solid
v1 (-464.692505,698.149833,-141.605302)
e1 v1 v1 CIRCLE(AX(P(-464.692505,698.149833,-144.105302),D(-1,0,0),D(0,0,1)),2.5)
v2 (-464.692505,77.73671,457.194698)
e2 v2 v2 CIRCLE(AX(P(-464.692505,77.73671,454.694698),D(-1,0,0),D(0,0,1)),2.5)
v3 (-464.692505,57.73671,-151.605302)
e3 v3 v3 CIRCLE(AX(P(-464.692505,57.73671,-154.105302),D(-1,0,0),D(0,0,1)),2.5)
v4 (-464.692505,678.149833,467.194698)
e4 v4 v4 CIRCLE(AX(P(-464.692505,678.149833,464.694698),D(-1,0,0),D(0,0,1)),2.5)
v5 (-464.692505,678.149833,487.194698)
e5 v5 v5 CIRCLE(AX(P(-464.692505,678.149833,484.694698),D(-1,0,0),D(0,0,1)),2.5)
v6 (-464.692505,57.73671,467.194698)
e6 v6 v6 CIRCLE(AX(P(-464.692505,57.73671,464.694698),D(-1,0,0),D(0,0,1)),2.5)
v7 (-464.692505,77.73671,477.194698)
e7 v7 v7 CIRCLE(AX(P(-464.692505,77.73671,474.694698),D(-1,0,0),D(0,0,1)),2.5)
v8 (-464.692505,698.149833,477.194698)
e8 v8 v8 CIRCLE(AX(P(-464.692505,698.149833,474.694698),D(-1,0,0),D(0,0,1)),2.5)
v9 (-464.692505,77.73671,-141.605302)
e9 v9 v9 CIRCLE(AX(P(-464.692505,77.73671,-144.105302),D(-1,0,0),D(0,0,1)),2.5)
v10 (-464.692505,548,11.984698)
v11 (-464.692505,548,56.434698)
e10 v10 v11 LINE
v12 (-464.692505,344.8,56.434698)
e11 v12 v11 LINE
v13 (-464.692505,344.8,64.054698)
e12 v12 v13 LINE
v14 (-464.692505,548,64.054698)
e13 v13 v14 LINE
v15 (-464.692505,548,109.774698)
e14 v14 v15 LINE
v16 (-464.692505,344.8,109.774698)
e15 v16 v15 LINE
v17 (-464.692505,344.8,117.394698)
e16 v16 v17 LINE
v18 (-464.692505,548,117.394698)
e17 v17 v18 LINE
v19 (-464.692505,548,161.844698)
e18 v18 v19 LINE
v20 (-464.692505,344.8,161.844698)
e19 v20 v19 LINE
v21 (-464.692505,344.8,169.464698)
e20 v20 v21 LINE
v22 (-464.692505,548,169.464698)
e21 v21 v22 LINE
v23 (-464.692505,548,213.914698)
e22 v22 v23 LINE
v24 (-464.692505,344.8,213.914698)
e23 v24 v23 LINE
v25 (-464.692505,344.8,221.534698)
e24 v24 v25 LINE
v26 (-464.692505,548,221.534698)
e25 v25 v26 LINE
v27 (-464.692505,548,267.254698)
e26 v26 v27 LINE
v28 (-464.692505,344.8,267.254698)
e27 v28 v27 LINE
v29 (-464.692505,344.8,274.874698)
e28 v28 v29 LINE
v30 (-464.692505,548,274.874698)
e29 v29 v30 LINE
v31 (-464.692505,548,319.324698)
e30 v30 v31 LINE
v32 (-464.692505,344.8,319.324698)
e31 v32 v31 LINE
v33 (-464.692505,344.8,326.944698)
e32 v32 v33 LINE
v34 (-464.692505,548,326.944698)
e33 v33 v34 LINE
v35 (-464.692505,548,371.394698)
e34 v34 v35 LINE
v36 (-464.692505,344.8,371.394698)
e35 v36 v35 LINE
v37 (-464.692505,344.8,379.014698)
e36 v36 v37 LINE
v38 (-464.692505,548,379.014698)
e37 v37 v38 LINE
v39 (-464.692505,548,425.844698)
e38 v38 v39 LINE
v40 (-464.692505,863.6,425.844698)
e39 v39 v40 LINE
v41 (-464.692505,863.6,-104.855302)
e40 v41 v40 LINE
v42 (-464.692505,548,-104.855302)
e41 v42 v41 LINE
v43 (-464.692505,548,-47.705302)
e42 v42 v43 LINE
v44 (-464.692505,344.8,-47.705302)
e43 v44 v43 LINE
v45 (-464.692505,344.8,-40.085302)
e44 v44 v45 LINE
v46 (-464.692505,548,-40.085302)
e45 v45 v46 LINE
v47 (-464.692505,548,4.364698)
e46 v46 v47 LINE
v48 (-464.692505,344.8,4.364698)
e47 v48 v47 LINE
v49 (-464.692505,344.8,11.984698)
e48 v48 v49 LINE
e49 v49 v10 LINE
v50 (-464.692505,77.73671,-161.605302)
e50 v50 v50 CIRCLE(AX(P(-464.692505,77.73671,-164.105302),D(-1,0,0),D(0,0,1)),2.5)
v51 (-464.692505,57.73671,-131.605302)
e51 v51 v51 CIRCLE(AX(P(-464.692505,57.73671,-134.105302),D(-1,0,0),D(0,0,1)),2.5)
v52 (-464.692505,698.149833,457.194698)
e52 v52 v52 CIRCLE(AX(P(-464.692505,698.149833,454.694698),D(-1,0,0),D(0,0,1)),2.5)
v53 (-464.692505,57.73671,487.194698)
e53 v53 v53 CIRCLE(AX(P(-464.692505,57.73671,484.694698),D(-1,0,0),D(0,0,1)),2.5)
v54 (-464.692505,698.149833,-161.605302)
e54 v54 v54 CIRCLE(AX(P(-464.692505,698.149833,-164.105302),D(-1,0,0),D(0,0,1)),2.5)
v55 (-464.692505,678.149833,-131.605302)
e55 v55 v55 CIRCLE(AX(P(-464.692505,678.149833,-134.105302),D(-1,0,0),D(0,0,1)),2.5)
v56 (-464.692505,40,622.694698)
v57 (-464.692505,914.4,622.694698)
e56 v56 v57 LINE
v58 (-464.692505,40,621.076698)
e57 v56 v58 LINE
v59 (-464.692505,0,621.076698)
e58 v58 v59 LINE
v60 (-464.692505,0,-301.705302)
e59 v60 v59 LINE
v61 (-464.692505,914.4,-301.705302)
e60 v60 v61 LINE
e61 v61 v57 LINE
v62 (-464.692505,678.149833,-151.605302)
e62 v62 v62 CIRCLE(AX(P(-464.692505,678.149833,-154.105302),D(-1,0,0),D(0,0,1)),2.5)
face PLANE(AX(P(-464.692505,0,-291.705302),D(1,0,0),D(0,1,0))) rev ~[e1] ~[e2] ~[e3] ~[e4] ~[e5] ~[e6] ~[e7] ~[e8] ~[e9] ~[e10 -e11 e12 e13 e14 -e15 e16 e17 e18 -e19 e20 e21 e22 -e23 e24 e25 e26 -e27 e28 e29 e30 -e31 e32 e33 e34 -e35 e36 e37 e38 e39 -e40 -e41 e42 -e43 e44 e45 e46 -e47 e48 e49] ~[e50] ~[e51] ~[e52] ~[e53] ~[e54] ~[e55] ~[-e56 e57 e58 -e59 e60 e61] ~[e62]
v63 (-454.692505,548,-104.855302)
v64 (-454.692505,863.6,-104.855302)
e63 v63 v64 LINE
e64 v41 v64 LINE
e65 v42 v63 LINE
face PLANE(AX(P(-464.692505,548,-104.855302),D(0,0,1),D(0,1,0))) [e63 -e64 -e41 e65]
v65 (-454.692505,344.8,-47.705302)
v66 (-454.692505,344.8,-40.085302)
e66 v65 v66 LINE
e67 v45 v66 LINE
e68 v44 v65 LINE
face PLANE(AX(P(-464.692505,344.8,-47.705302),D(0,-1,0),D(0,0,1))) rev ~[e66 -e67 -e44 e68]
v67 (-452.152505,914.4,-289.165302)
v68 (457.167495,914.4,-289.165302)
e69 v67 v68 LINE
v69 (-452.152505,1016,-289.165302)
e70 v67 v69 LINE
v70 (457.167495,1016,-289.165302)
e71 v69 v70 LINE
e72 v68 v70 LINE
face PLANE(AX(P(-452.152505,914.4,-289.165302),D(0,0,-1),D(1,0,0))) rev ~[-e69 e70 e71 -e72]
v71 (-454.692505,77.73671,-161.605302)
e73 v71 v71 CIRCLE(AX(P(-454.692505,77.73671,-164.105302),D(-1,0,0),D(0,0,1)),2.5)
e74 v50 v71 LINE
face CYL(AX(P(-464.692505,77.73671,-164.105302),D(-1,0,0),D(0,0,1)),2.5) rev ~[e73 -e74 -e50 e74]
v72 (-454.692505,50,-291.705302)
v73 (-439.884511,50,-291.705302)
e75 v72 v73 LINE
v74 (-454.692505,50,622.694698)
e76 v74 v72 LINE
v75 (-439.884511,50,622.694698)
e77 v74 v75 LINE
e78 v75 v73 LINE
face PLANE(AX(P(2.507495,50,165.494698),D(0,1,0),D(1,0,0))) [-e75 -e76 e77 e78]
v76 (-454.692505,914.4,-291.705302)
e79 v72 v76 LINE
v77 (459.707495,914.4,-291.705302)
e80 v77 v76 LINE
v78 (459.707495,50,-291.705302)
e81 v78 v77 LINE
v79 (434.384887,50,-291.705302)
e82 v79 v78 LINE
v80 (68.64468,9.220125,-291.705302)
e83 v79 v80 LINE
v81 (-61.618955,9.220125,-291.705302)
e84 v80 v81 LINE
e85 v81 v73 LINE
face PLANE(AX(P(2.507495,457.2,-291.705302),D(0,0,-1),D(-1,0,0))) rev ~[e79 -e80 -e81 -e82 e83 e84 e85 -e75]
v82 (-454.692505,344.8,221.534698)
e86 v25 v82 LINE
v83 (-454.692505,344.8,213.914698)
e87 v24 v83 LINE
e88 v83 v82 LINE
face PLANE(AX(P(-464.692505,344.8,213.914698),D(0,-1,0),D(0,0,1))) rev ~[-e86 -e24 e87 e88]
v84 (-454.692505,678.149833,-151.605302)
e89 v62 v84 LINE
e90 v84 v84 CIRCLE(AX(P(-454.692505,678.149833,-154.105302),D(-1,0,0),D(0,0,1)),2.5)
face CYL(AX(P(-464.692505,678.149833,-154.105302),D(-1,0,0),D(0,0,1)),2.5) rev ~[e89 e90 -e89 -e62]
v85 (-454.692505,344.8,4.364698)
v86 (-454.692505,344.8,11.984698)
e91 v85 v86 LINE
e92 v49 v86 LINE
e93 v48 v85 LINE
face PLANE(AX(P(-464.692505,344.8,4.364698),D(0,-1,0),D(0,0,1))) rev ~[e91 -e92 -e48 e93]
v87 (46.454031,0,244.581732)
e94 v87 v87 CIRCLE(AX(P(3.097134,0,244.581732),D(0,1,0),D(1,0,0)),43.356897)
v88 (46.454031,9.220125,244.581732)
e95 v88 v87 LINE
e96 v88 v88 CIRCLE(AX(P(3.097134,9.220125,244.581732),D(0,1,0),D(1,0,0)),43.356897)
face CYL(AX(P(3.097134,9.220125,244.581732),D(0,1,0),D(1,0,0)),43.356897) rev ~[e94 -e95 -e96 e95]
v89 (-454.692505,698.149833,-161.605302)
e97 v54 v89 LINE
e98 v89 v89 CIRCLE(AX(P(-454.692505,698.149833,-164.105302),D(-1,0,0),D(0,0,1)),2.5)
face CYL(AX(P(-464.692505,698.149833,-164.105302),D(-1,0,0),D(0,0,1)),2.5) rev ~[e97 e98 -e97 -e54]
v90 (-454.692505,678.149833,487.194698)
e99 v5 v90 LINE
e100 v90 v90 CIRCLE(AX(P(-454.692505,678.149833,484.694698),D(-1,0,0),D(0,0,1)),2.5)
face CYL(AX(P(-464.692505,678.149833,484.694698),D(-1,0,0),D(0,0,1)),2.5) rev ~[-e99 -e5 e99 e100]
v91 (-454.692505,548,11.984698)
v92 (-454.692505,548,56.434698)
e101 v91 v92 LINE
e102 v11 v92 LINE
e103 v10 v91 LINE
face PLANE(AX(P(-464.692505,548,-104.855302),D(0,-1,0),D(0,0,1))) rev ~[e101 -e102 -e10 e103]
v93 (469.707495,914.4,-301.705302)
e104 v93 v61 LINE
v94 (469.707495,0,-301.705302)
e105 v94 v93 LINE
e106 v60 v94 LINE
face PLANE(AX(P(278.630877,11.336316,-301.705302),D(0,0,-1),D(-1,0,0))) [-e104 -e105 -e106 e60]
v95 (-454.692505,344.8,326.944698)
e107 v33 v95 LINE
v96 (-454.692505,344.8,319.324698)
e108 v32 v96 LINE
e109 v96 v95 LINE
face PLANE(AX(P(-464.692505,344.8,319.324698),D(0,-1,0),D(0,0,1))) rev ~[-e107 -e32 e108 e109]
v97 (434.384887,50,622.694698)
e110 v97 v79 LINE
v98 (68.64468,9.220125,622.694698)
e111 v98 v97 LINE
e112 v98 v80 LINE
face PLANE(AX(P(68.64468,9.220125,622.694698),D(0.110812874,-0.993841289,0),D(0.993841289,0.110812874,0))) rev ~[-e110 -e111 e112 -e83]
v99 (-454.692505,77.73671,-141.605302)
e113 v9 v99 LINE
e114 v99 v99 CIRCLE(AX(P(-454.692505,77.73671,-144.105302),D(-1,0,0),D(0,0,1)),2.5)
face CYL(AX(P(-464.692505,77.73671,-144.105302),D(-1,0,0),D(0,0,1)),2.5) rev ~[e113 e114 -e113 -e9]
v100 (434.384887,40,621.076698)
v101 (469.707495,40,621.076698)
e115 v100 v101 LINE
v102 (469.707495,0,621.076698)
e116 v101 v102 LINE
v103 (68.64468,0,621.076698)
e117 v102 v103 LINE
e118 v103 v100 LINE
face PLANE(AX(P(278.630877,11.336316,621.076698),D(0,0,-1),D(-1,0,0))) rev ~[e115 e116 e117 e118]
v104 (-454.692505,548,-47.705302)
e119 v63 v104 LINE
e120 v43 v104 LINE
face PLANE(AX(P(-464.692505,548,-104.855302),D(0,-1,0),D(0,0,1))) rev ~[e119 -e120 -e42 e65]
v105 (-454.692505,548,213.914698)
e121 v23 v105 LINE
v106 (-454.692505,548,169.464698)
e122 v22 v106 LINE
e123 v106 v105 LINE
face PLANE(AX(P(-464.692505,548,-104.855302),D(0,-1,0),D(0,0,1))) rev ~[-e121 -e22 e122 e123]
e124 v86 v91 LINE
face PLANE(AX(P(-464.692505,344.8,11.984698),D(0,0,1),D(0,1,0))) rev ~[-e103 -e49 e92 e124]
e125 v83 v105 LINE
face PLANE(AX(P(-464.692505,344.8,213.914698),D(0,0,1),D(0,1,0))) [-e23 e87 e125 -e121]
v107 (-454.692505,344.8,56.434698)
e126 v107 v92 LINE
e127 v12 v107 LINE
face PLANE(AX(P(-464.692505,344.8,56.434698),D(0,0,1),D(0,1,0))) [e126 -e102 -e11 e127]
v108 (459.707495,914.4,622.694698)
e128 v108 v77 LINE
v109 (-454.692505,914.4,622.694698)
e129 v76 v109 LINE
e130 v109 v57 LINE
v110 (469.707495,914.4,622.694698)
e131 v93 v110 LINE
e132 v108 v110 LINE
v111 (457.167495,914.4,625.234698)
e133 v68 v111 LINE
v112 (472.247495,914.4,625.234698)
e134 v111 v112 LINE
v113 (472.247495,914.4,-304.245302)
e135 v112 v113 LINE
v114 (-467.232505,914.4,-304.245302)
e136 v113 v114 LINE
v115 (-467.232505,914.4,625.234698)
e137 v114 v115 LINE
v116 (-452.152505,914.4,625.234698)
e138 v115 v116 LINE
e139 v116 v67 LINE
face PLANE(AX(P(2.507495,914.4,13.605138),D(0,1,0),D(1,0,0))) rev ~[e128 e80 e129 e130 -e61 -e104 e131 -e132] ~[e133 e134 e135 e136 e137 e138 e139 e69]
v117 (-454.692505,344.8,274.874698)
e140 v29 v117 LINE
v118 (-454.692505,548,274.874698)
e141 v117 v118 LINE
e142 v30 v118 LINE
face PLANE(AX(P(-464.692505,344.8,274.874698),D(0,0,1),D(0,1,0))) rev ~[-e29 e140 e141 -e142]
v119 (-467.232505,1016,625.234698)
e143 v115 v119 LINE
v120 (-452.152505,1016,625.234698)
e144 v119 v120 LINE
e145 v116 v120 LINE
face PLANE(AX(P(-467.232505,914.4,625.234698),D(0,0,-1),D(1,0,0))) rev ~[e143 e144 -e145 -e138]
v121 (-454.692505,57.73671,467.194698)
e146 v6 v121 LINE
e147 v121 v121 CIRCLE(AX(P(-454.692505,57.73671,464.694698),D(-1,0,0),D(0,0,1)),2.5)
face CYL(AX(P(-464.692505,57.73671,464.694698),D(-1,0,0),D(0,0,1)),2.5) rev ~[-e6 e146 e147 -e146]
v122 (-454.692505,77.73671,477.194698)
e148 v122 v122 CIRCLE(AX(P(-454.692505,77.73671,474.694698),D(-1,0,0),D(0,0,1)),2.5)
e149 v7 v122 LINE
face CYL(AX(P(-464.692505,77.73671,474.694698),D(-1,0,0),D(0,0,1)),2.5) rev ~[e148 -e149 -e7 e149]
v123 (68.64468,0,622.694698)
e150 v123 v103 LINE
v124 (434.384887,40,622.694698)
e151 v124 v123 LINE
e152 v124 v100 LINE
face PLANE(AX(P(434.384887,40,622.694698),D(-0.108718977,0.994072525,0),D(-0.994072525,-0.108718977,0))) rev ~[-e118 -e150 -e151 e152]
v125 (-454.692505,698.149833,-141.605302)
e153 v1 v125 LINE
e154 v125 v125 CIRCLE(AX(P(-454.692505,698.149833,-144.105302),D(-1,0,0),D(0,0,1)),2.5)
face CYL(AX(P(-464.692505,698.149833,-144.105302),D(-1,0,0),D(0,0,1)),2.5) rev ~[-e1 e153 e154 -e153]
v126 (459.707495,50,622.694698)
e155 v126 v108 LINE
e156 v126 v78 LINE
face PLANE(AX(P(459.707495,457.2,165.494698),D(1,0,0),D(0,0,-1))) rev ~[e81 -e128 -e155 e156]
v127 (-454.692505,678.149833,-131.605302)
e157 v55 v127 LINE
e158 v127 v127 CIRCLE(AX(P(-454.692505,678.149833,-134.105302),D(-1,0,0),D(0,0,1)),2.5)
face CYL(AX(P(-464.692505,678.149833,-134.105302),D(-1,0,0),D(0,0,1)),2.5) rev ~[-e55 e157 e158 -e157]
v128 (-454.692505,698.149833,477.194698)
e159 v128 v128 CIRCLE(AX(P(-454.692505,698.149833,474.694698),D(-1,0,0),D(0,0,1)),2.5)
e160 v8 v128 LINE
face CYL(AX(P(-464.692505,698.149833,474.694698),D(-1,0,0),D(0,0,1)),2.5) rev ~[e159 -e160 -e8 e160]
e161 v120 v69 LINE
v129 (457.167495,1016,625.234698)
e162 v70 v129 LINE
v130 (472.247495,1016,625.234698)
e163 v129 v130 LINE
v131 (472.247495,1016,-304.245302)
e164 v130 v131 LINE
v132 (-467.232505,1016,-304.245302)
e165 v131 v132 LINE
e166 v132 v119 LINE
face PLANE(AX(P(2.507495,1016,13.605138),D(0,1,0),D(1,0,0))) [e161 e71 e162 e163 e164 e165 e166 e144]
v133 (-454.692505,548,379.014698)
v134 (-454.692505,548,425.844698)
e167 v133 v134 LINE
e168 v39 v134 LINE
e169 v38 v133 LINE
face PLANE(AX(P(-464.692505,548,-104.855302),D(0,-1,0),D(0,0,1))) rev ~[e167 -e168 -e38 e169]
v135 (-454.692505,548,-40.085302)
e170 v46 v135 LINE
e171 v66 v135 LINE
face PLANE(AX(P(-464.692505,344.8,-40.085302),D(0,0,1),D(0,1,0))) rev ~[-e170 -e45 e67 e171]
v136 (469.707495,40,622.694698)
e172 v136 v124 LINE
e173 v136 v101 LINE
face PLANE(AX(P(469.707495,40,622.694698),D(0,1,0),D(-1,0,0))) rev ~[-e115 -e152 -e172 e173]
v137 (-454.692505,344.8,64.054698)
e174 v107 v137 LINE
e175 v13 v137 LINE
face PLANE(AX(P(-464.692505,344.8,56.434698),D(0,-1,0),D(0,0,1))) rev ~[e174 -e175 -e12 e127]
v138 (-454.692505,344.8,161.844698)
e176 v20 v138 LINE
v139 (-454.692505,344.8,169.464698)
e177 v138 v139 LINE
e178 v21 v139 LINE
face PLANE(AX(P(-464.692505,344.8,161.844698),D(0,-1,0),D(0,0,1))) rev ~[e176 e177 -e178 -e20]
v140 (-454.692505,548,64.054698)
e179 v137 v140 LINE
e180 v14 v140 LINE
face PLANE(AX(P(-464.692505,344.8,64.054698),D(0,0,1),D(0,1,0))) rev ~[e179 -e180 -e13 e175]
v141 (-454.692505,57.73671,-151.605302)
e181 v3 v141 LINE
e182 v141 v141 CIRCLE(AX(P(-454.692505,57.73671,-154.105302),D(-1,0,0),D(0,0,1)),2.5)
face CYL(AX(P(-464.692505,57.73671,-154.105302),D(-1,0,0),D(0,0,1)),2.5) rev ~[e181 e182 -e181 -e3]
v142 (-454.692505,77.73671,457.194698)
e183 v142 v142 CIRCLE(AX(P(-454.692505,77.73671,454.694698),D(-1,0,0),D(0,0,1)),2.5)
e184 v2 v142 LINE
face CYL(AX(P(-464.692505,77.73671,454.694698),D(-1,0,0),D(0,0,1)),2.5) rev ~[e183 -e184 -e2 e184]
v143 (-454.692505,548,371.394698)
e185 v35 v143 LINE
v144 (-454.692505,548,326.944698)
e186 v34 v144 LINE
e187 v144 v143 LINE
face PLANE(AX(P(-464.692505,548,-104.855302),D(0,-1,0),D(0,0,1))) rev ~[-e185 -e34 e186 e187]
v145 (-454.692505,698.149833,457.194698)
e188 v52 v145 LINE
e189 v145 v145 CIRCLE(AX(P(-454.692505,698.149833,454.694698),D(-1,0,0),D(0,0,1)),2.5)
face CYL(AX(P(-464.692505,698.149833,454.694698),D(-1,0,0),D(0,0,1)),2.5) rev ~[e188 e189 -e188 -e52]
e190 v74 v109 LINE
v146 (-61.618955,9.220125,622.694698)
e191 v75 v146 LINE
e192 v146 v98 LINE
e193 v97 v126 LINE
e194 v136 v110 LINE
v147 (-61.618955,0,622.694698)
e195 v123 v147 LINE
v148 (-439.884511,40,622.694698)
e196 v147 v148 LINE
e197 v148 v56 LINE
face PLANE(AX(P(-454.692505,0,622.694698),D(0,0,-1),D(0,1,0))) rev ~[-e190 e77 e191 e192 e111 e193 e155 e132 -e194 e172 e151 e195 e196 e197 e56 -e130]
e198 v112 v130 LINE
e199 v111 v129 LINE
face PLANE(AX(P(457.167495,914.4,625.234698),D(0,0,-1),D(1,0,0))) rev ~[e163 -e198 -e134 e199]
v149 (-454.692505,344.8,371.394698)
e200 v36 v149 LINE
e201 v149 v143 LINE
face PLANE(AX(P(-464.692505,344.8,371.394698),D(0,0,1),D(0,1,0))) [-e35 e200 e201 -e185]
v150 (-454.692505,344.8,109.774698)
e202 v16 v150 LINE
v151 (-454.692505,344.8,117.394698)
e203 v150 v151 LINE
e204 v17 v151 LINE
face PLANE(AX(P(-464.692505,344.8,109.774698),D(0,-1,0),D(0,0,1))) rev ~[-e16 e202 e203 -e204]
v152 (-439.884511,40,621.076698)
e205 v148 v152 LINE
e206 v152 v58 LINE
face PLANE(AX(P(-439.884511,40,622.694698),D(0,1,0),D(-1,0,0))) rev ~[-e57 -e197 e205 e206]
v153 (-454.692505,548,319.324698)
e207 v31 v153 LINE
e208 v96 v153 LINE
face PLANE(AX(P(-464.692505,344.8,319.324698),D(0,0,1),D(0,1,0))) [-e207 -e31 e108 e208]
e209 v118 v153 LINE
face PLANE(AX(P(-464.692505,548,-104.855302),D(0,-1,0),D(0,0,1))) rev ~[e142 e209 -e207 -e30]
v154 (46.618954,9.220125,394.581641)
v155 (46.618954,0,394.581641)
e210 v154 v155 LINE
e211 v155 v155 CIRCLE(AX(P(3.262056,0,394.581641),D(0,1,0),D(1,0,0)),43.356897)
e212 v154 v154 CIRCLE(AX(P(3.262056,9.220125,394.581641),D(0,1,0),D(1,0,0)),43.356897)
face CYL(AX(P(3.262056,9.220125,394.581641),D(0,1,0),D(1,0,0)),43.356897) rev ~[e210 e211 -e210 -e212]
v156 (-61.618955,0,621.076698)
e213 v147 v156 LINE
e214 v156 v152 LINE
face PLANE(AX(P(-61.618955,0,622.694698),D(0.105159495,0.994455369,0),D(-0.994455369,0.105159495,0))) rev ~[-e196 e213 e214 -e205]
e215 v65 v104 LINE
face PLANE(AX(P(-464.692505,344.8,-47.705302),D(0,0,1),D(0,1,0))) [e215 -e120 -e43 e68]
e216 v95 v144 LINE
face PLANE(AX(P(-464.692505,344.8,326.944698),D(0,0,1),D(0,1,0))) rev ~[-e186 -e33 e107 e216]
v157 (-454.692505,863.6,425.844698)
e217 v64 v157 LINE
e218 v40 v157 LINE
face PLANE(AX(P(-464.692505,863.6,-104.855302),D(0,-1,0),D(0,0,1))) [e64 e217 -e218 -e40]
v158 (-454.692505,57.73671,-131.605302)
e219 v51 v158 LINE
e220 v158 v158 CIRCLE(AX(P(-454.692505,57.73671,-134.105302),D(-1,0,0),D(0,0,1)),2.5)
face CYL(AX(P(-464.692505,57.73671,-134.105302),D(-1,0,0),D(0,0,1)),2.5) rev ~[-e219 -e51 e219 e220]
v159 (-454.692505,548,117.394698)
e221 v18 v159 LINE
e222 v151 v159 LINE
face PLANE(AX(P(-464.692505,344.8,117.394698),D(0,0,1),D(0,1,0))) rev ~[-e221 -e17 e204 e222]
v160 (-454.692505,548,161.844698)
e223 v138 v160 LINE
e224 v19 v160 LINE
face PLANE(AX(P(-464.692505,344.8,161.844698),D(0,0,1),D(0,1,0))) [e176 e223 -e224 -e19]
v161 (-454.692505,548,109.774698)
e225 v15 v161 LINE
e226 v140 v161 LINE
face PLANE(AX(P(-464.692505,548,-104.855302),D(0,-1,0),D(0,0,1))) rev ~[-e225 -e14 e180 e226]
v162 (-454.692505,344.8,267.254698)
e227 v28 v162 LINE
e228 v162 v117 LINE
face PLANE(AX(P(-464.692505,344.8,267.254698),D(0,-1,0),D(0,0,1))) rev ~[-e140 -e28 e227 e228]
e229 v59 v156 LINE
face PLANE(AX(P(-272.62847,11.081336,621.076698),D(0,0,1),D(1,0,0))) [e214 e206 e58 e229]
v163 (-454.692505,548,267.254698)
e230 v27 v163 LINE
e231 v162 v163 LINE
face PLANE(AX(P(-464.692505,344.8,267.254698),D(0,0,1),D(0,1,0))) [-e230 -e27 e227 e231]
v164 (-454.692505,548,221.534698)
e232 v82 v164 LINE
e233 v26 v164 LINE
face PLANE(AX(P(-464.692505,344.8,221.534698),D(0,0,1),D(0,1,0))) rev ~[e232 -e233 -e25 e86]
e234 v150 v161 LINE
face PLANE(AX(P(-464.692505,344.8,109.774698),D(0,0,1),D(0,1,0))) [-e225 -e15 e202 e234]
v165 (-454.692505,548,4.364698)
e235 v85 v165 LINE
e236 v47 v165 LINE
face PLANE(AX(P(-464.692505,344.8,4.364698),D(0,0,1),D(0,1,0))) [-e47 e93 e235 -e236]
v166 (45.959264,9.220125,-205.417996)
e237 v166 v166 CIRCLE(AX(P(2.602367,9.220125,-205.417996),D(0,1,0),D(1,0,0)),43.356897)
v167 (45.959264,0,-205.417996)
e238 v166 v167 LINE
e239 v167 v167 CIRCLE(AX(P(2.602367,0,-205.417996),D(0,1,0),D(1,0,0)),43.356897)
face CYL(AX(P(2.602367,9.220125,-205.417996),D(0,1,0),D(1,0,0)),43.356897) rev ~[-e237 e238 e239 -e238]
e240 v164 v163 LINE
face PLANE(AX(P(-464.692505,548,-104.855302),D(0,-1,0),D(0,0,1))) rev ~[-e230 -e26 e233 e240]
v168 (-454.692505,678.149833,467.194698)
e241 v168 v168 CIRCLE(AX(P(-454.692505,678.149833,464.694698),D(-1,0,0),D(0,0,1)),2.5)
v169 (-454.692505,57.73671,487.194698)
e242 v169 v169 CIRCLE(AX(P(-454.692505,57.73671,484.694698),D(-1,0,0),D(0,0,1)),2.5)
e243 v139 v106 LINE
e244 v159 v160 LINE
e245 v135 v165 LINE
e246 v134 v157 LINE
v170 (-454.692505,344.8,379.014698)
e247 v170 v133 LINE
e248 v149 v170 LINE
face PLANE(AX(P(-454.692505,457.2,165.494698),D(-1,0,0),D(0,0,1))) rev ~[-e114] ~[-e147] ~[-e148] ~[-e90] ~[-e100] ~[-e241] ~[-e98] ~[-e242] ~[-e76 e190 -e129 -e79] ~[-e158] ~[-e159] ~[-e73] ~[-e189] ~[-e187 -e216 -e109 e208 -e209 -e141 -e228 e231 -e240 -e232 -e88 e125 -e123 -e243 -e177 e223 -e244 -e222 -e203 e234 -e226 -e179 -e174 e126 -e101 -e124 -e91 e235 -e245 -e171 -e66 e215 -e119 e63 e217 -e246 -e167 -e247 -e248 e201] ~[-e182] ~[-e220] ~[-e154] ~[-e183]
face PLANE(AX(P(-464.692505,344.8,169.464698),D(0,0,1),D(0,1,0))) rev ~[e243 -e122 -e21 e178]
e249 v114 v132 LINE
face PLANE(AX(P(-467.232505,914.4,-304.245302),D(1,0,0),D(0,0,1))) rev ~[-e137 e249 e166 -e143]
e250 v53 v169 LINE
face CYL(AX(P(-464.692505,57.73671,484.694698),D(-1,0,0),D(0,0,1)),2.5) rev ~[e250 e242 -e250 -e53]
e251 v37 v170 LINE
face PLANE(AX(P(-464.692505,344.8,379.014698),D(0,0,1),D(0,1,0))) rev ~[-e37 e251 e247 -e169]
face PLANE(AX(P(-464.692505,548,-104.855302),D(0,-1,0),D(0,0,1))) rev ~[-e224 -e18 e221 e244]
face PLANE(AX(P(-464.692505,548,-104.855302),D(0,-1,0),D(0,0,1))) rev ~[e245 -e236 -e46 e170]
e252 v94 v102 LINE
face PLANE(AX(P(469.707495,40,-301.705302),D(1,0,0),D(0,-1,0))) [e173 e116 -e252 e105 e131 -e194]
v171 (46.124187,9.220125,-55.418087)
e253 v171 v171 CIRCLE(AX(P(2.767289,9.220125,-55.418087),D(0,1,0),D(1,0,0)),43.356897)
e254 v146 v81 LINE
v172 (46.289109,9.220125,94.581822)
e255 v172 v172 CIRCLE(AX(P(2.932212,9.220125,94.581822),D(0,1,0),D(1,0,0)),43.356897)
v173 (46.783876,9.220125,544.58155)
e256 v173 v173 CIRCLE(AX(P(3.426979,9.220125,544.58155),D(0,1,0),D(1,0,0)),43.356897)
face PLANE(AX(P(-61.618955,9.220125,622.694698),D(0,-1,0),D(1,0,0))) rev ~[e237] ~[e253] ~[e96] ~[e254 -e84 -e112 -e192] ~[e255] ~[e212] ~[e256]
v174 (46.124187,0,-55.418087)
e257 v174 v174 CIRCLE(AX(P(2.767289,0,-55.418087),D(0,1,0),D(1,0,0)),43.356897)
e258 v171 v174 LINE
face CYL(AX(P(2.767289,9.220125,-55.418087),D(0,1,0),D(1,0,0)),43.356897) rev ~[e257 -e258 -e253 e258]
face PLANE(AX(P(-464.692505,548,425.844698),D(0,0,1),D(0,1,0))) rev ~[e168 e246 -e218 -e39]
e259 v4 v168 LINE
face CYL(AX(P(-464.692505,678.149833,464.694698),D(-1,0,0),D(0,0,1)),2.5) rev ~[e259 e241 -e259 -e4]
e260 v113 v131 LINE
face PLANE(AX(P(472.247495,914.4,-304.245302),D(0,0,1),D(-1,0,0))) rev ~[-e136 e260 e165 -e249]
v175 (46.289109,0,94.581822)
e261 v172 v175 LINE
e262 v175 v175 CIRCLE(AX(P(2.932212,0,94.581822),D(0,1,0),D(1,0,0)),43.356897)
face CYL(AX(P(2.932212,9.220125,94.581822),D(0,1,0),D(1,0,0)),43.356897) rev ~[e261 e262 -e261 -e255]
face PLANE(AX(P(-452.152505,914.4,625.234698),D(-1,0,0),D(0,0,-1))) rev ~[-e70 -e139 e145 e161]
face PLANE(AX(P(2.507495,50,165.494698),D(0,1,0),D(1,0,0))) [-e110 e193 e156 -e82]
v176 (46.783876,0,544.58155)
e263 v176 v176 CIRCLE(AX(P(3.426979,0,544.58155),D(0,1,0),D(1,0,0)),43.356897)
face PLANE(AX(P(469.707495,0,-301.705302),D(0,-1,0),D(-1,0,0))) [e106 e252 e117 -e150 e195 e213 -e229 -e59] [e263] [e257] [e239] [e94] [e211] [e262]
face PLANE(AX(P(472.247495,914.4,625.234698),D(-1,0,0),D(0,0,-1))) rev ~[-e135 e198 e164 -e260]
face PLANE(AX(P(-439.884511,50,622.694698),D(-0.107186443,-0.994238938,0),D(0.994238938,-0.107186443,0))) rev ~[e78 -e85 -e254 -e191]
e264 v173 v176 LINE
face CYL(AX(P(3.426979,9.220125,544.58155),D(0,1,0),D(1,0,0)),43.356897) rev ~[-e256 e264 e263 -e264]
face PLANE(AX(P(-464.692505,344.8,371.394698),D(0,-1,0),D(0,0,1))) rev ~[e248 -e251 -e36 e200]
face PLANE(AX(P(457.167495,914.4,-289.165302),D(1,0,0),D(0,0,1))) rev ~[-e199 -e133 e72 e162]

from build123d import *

# Parameters (mm, degrees)
SKETCH1_W           = 914.4
SKETCH1_H           = 914.4
BOSS_EXTRUDE1_DEPTH = 50
SKETCH2_W           = 914.4
SKETCH2_H           = 914.4
BOSS_EXTRUDE2_DEPTH = 10
SKETCH4_W           = 914.4
SKETCH4_H           = 914.4
BOSS_EXTRUDE3_DEPTH = 10
SKETCH5_W           = 934.4
SKETCH5_H           = 914.4
BOSS_EXTRUDE4_DEPTH = 10
CUT_EXTRUDE2_DEPTH  = 925.4
BOSS_EXTRUDE5_DEPTH = 10
SKETCH10_R          = 43.356897361
CUT_EXTRUDE3_DEPTH  = 10.220124983
SKETCH11_W          = 530.7
SKETCH11_H          = 315.6
CUT_EXTRUDE4_DEPTH  = 10
BOSS_EXTRUDE7_DEPTH = 101.6
BOSS_EXTRUDE8_DEPTH = 922.782
SKETCH17_R          = 2.5
CUT_EXTRUDE5_DEPTH  = 10
SKETCH18_W          = 7.62
SKETCH18_H          = 203.2
CUT_EXTRUDE6_DEPTH  = 10


with BuildPart() as part:
    # Sketch1 → Boss-Extrude1 (new body)
    with BuildSketch(Plane(origin=(0, 0, 0), x_dir=(1, 0, 0), z_dir=(0, 1, 0))):
        with Locations((2.50749543, -165.494698355)):
            Rectangle(SKETCH1_W, SKETCH1_H)
    extrude(amount=BOSS_EXTRUDE1_DEPTH)

    # Sketch2 → Boss-Extrude2 (add)
    with BuildSketch(Plane(origin=(459.70749543, 0, 0), x_dir=(0, 0, -1), z_dir=(1, 0, 0))):
        with Locations((-165.494698355, 457.2)):
            Rectangle(SKETCH2_W, SKETCH2_H)
    extrude(amount=BOSS_EXTRUDE2_DEPTH)

    # Sketch4 → Boss-Extrude3 (add)
    with BuildSketch(Plane.ZY.offset(454.69250457)):
        with Locations((165.494698355, 457.2)):
            Rectangle(SKETCH4_W, SKETCH4_H)
    extrude(amount=BOSS_EXTRUDE3_DEPTH)

    # Sketch5 → Boss-Extrude4 (add)
    with BuildSketch(Plane(origin=(0, 0, -291.705301645), x_dir=(-1, 0, 0), z_dir=(0, 0, -1))):
        with Locations((-2.50749543, 457.2)):
            Rectangle(SKETCH5_W, SKETCH5_H)
    extrude(amount=BOSS_EXTRUDE4_DEPTH)

    # Sketch6 → Cut-Extrude2 (cut, through all)
    with BuildSketch(Plane.XY.offset(622.694698355)):
        Polygon((-464.69250457, 0), (-61.618954828, 0), (-439.884510812, 40), (-464.69250457, 40), align=None)
        Polygon((-439.884510812, 50), (-61.618954828, 9.220124983), (68.644680345, 9.220124983), (434.384886793, 50), align=None)
        Polygon((434.384886793, 40), (68.644680345, 0), (469.70749543, 0), (469.70749543, 40), align=None)
    extrude(amount=-CUT_EXTRUDE2_DEPTH, mode=Mode.SUBTRACT)

    # Sketch8 → Boss-Extrude5 (add)
    with BuildSketch(Plane(origin=(0, 0, -301.705301645), x_dir=(-1, 0, 0), z_dir=(0, 0, -1))):
        Polygon((-434.384886793, 50), (-68.644680345, 9.220124983), (61.618954828, 9.220124983), (439.884510812, 50), align=None)
    extrude(amount=-BOSS_EXTRUDE5_DEPTH)

    # Sketch10 → Cut-Extrude3 (cut, through all)
    with BuildSketch(Plane(origin=(0, 9.220124983, 0), x_dir=(1, 0, 0), z_dir=(0, 1, 0))):
        with Locations((3.426978674, -544.581550471)):
            Circle(SKETCH10_R)
        with Locations((3.262056312, -394.581641136)):
            Circle(SKETCH10_R)
        with Locations((3.097133949, -244.5817318)):
            Circle(SKETCH10_R)
        with Locations((2.932211587, -94.581822465)):
            Circle(SKETCH10_R)
        with Locations((2.767289224, 55.41808687)):
            Circle(SKETCH10_R)
        with Locations((2.602366862, 205.417996206)):
            Circle(SKETCH10_R)
    extrude(amount=-CUT_EXTRUDE3_DEPTH, mode=Mode.SUBTRACT)

    # Sketch11 → Cut-Extrude4 (cut)
    with BuildSketch(Plane.ZY.offset(464.69250457)):
        with Locations((160.494698355, 705.8)):
            Rectangle(SKETCH11_W, SKETCH11_H)
    extrude(amount=-CUT_EXTRUDE4_DEPTH, mode=Mode.SUBTRACT)

    # Sketch14 → Boss-Extrude7 (add)
    with BuildSketch(Plane(origin=(0, 914.4, 0), x_dir=(1, 0, 0), z_dir=(0, 1, 0))):
        Polygon((457.16749543, 289.165301645), (457.16749543, -625.234698355), (472.24749543, -625.234698355), (472.24749543, 304.245301645), (-467.23250457, 304.245301645), (-467.23250457, -625.234698355), (-452.15250457, -625.234698355), (-452.15250457, 289.165301645), align=None)
    extrude(amount=BOSS_EXTRUDE7_DEPTH)

    # Sketch16 → Boss-Extrude8 (add)
    with BuildSketch(Plane(origin=(0, 0, -301.705301645), x_dir=(-1, 0, 0), z_dir=(0, 0, -1))):
        Polygon((-469.70749543, 40), (-469.70749543, 0), (-68.644680345, 0), (-434.384886793, 40), align=None)
        Polygon((61.618954828, 0), (439.884510812, 40), (464.69250457, 40), (464.69250457, 0), align=None)
    extrude(amount=-BOSS_EXTRUDE8_DEPTH)

    # Sketch17 → Cut-Extrude5 (cut)
    with BuildSketch(Plane.ZY.offset(464.69250457)):
        with Locations((-164.105301645, 77.736709547)):
            Circle(SKETCH17_R)
        with Locations((-144.105301645, 77.736709547)):
            Circle(SKETCH17_R)
        with Locations((-134.105301645, 57.736709547)):
            Circle(SKETCH17_R)
        with Locations((-154.105301645, 57.736709547)):
            Circle(SKETCH17_R)
        with Locations((474.694698355, 77.736709547)):
            Circle(SKETCH17_R)
        with Locations((484.694698355, 57.736709547)):
            Circle(SKETCH17_R)
        with Locations((464.694698355, 57.736709547)):
            Circle(SKETCH17_R)
        with Locations((454.694698355, 77.736709547)):
            Circle(SKETCH17_R)
        with Locations((-164.105301645, 698.149833047)):
            Circle(SKETCH17_R)
        with Locations((-144.105301645, 698.149833047)):
            Circle(SKETCH17_R)
        with Locations((-134.105301645, 678.149833047)):
            Circle(SKETCH17_R)
        with Locations((-154.105301645, 678.149833047)):
            Circle(SKETCH17_R)
        with Locations((474.694698355, 698.149833047)):
            Circle(SKETCH17_R)
        with Locations((484.694698355, 678.149833047)):
            Circle(SKETCH17_R)
        with Locations((464.694698355, 678.149833047)):
            Circle(SKETCH17_R)
        with Locations((454.694698355, 698.149833047)):
            Circle(SKETCH17_R)
    extrude(amount=-CUT_EXTRUDE5_DEPTH, mode=Mode.SUBTRACT)

    # Sketch18 → Cut-Extrude6 (cut)
    with BuildSketch(Plane.ZY.offset(464.69250457)):
        with Locations((-43.895301645, 446.4)):
            Rectangle(SKETCH18_W, SKETCH18_H)
        with Locations((8.174698355, 446.4)):
            Rectangle(SKETCH18_W, SKETCH18_H)
        with Locations((60.244698355, 446.4)):
            Rectangle(SKETCH18_W, SKETCH18_H)
        with Locations((113.584698355, 446.4)):
            Rectangle(SKETCH18_W, SKETCH18_H)
        with Locations((165.654698355, 446.4)):
            Rectangle(SKETCH18_W, SKETCH18_H)
        with Locations((217.724698355, 446.4)):
            Rectangle(SKETCH18_W, SKETCH18_H)
        with Locations((271.064698355, 446.4)):
            Rectangle(SKETCH18_W, SKETCH18_H)
        with Locations((323.134698355, 446.4)):
            Rectangle(SKETCH18_W, SKETCH18_H)
        with Locations((375.204698355, 446.4)):
            Rectangle(SKETCH18_W, SKETCH18_H)
    extrude(amount=-CUT_EXTRUDE6_DEPTH, mode=Mode.SUBTRACT)


solid = part.part
